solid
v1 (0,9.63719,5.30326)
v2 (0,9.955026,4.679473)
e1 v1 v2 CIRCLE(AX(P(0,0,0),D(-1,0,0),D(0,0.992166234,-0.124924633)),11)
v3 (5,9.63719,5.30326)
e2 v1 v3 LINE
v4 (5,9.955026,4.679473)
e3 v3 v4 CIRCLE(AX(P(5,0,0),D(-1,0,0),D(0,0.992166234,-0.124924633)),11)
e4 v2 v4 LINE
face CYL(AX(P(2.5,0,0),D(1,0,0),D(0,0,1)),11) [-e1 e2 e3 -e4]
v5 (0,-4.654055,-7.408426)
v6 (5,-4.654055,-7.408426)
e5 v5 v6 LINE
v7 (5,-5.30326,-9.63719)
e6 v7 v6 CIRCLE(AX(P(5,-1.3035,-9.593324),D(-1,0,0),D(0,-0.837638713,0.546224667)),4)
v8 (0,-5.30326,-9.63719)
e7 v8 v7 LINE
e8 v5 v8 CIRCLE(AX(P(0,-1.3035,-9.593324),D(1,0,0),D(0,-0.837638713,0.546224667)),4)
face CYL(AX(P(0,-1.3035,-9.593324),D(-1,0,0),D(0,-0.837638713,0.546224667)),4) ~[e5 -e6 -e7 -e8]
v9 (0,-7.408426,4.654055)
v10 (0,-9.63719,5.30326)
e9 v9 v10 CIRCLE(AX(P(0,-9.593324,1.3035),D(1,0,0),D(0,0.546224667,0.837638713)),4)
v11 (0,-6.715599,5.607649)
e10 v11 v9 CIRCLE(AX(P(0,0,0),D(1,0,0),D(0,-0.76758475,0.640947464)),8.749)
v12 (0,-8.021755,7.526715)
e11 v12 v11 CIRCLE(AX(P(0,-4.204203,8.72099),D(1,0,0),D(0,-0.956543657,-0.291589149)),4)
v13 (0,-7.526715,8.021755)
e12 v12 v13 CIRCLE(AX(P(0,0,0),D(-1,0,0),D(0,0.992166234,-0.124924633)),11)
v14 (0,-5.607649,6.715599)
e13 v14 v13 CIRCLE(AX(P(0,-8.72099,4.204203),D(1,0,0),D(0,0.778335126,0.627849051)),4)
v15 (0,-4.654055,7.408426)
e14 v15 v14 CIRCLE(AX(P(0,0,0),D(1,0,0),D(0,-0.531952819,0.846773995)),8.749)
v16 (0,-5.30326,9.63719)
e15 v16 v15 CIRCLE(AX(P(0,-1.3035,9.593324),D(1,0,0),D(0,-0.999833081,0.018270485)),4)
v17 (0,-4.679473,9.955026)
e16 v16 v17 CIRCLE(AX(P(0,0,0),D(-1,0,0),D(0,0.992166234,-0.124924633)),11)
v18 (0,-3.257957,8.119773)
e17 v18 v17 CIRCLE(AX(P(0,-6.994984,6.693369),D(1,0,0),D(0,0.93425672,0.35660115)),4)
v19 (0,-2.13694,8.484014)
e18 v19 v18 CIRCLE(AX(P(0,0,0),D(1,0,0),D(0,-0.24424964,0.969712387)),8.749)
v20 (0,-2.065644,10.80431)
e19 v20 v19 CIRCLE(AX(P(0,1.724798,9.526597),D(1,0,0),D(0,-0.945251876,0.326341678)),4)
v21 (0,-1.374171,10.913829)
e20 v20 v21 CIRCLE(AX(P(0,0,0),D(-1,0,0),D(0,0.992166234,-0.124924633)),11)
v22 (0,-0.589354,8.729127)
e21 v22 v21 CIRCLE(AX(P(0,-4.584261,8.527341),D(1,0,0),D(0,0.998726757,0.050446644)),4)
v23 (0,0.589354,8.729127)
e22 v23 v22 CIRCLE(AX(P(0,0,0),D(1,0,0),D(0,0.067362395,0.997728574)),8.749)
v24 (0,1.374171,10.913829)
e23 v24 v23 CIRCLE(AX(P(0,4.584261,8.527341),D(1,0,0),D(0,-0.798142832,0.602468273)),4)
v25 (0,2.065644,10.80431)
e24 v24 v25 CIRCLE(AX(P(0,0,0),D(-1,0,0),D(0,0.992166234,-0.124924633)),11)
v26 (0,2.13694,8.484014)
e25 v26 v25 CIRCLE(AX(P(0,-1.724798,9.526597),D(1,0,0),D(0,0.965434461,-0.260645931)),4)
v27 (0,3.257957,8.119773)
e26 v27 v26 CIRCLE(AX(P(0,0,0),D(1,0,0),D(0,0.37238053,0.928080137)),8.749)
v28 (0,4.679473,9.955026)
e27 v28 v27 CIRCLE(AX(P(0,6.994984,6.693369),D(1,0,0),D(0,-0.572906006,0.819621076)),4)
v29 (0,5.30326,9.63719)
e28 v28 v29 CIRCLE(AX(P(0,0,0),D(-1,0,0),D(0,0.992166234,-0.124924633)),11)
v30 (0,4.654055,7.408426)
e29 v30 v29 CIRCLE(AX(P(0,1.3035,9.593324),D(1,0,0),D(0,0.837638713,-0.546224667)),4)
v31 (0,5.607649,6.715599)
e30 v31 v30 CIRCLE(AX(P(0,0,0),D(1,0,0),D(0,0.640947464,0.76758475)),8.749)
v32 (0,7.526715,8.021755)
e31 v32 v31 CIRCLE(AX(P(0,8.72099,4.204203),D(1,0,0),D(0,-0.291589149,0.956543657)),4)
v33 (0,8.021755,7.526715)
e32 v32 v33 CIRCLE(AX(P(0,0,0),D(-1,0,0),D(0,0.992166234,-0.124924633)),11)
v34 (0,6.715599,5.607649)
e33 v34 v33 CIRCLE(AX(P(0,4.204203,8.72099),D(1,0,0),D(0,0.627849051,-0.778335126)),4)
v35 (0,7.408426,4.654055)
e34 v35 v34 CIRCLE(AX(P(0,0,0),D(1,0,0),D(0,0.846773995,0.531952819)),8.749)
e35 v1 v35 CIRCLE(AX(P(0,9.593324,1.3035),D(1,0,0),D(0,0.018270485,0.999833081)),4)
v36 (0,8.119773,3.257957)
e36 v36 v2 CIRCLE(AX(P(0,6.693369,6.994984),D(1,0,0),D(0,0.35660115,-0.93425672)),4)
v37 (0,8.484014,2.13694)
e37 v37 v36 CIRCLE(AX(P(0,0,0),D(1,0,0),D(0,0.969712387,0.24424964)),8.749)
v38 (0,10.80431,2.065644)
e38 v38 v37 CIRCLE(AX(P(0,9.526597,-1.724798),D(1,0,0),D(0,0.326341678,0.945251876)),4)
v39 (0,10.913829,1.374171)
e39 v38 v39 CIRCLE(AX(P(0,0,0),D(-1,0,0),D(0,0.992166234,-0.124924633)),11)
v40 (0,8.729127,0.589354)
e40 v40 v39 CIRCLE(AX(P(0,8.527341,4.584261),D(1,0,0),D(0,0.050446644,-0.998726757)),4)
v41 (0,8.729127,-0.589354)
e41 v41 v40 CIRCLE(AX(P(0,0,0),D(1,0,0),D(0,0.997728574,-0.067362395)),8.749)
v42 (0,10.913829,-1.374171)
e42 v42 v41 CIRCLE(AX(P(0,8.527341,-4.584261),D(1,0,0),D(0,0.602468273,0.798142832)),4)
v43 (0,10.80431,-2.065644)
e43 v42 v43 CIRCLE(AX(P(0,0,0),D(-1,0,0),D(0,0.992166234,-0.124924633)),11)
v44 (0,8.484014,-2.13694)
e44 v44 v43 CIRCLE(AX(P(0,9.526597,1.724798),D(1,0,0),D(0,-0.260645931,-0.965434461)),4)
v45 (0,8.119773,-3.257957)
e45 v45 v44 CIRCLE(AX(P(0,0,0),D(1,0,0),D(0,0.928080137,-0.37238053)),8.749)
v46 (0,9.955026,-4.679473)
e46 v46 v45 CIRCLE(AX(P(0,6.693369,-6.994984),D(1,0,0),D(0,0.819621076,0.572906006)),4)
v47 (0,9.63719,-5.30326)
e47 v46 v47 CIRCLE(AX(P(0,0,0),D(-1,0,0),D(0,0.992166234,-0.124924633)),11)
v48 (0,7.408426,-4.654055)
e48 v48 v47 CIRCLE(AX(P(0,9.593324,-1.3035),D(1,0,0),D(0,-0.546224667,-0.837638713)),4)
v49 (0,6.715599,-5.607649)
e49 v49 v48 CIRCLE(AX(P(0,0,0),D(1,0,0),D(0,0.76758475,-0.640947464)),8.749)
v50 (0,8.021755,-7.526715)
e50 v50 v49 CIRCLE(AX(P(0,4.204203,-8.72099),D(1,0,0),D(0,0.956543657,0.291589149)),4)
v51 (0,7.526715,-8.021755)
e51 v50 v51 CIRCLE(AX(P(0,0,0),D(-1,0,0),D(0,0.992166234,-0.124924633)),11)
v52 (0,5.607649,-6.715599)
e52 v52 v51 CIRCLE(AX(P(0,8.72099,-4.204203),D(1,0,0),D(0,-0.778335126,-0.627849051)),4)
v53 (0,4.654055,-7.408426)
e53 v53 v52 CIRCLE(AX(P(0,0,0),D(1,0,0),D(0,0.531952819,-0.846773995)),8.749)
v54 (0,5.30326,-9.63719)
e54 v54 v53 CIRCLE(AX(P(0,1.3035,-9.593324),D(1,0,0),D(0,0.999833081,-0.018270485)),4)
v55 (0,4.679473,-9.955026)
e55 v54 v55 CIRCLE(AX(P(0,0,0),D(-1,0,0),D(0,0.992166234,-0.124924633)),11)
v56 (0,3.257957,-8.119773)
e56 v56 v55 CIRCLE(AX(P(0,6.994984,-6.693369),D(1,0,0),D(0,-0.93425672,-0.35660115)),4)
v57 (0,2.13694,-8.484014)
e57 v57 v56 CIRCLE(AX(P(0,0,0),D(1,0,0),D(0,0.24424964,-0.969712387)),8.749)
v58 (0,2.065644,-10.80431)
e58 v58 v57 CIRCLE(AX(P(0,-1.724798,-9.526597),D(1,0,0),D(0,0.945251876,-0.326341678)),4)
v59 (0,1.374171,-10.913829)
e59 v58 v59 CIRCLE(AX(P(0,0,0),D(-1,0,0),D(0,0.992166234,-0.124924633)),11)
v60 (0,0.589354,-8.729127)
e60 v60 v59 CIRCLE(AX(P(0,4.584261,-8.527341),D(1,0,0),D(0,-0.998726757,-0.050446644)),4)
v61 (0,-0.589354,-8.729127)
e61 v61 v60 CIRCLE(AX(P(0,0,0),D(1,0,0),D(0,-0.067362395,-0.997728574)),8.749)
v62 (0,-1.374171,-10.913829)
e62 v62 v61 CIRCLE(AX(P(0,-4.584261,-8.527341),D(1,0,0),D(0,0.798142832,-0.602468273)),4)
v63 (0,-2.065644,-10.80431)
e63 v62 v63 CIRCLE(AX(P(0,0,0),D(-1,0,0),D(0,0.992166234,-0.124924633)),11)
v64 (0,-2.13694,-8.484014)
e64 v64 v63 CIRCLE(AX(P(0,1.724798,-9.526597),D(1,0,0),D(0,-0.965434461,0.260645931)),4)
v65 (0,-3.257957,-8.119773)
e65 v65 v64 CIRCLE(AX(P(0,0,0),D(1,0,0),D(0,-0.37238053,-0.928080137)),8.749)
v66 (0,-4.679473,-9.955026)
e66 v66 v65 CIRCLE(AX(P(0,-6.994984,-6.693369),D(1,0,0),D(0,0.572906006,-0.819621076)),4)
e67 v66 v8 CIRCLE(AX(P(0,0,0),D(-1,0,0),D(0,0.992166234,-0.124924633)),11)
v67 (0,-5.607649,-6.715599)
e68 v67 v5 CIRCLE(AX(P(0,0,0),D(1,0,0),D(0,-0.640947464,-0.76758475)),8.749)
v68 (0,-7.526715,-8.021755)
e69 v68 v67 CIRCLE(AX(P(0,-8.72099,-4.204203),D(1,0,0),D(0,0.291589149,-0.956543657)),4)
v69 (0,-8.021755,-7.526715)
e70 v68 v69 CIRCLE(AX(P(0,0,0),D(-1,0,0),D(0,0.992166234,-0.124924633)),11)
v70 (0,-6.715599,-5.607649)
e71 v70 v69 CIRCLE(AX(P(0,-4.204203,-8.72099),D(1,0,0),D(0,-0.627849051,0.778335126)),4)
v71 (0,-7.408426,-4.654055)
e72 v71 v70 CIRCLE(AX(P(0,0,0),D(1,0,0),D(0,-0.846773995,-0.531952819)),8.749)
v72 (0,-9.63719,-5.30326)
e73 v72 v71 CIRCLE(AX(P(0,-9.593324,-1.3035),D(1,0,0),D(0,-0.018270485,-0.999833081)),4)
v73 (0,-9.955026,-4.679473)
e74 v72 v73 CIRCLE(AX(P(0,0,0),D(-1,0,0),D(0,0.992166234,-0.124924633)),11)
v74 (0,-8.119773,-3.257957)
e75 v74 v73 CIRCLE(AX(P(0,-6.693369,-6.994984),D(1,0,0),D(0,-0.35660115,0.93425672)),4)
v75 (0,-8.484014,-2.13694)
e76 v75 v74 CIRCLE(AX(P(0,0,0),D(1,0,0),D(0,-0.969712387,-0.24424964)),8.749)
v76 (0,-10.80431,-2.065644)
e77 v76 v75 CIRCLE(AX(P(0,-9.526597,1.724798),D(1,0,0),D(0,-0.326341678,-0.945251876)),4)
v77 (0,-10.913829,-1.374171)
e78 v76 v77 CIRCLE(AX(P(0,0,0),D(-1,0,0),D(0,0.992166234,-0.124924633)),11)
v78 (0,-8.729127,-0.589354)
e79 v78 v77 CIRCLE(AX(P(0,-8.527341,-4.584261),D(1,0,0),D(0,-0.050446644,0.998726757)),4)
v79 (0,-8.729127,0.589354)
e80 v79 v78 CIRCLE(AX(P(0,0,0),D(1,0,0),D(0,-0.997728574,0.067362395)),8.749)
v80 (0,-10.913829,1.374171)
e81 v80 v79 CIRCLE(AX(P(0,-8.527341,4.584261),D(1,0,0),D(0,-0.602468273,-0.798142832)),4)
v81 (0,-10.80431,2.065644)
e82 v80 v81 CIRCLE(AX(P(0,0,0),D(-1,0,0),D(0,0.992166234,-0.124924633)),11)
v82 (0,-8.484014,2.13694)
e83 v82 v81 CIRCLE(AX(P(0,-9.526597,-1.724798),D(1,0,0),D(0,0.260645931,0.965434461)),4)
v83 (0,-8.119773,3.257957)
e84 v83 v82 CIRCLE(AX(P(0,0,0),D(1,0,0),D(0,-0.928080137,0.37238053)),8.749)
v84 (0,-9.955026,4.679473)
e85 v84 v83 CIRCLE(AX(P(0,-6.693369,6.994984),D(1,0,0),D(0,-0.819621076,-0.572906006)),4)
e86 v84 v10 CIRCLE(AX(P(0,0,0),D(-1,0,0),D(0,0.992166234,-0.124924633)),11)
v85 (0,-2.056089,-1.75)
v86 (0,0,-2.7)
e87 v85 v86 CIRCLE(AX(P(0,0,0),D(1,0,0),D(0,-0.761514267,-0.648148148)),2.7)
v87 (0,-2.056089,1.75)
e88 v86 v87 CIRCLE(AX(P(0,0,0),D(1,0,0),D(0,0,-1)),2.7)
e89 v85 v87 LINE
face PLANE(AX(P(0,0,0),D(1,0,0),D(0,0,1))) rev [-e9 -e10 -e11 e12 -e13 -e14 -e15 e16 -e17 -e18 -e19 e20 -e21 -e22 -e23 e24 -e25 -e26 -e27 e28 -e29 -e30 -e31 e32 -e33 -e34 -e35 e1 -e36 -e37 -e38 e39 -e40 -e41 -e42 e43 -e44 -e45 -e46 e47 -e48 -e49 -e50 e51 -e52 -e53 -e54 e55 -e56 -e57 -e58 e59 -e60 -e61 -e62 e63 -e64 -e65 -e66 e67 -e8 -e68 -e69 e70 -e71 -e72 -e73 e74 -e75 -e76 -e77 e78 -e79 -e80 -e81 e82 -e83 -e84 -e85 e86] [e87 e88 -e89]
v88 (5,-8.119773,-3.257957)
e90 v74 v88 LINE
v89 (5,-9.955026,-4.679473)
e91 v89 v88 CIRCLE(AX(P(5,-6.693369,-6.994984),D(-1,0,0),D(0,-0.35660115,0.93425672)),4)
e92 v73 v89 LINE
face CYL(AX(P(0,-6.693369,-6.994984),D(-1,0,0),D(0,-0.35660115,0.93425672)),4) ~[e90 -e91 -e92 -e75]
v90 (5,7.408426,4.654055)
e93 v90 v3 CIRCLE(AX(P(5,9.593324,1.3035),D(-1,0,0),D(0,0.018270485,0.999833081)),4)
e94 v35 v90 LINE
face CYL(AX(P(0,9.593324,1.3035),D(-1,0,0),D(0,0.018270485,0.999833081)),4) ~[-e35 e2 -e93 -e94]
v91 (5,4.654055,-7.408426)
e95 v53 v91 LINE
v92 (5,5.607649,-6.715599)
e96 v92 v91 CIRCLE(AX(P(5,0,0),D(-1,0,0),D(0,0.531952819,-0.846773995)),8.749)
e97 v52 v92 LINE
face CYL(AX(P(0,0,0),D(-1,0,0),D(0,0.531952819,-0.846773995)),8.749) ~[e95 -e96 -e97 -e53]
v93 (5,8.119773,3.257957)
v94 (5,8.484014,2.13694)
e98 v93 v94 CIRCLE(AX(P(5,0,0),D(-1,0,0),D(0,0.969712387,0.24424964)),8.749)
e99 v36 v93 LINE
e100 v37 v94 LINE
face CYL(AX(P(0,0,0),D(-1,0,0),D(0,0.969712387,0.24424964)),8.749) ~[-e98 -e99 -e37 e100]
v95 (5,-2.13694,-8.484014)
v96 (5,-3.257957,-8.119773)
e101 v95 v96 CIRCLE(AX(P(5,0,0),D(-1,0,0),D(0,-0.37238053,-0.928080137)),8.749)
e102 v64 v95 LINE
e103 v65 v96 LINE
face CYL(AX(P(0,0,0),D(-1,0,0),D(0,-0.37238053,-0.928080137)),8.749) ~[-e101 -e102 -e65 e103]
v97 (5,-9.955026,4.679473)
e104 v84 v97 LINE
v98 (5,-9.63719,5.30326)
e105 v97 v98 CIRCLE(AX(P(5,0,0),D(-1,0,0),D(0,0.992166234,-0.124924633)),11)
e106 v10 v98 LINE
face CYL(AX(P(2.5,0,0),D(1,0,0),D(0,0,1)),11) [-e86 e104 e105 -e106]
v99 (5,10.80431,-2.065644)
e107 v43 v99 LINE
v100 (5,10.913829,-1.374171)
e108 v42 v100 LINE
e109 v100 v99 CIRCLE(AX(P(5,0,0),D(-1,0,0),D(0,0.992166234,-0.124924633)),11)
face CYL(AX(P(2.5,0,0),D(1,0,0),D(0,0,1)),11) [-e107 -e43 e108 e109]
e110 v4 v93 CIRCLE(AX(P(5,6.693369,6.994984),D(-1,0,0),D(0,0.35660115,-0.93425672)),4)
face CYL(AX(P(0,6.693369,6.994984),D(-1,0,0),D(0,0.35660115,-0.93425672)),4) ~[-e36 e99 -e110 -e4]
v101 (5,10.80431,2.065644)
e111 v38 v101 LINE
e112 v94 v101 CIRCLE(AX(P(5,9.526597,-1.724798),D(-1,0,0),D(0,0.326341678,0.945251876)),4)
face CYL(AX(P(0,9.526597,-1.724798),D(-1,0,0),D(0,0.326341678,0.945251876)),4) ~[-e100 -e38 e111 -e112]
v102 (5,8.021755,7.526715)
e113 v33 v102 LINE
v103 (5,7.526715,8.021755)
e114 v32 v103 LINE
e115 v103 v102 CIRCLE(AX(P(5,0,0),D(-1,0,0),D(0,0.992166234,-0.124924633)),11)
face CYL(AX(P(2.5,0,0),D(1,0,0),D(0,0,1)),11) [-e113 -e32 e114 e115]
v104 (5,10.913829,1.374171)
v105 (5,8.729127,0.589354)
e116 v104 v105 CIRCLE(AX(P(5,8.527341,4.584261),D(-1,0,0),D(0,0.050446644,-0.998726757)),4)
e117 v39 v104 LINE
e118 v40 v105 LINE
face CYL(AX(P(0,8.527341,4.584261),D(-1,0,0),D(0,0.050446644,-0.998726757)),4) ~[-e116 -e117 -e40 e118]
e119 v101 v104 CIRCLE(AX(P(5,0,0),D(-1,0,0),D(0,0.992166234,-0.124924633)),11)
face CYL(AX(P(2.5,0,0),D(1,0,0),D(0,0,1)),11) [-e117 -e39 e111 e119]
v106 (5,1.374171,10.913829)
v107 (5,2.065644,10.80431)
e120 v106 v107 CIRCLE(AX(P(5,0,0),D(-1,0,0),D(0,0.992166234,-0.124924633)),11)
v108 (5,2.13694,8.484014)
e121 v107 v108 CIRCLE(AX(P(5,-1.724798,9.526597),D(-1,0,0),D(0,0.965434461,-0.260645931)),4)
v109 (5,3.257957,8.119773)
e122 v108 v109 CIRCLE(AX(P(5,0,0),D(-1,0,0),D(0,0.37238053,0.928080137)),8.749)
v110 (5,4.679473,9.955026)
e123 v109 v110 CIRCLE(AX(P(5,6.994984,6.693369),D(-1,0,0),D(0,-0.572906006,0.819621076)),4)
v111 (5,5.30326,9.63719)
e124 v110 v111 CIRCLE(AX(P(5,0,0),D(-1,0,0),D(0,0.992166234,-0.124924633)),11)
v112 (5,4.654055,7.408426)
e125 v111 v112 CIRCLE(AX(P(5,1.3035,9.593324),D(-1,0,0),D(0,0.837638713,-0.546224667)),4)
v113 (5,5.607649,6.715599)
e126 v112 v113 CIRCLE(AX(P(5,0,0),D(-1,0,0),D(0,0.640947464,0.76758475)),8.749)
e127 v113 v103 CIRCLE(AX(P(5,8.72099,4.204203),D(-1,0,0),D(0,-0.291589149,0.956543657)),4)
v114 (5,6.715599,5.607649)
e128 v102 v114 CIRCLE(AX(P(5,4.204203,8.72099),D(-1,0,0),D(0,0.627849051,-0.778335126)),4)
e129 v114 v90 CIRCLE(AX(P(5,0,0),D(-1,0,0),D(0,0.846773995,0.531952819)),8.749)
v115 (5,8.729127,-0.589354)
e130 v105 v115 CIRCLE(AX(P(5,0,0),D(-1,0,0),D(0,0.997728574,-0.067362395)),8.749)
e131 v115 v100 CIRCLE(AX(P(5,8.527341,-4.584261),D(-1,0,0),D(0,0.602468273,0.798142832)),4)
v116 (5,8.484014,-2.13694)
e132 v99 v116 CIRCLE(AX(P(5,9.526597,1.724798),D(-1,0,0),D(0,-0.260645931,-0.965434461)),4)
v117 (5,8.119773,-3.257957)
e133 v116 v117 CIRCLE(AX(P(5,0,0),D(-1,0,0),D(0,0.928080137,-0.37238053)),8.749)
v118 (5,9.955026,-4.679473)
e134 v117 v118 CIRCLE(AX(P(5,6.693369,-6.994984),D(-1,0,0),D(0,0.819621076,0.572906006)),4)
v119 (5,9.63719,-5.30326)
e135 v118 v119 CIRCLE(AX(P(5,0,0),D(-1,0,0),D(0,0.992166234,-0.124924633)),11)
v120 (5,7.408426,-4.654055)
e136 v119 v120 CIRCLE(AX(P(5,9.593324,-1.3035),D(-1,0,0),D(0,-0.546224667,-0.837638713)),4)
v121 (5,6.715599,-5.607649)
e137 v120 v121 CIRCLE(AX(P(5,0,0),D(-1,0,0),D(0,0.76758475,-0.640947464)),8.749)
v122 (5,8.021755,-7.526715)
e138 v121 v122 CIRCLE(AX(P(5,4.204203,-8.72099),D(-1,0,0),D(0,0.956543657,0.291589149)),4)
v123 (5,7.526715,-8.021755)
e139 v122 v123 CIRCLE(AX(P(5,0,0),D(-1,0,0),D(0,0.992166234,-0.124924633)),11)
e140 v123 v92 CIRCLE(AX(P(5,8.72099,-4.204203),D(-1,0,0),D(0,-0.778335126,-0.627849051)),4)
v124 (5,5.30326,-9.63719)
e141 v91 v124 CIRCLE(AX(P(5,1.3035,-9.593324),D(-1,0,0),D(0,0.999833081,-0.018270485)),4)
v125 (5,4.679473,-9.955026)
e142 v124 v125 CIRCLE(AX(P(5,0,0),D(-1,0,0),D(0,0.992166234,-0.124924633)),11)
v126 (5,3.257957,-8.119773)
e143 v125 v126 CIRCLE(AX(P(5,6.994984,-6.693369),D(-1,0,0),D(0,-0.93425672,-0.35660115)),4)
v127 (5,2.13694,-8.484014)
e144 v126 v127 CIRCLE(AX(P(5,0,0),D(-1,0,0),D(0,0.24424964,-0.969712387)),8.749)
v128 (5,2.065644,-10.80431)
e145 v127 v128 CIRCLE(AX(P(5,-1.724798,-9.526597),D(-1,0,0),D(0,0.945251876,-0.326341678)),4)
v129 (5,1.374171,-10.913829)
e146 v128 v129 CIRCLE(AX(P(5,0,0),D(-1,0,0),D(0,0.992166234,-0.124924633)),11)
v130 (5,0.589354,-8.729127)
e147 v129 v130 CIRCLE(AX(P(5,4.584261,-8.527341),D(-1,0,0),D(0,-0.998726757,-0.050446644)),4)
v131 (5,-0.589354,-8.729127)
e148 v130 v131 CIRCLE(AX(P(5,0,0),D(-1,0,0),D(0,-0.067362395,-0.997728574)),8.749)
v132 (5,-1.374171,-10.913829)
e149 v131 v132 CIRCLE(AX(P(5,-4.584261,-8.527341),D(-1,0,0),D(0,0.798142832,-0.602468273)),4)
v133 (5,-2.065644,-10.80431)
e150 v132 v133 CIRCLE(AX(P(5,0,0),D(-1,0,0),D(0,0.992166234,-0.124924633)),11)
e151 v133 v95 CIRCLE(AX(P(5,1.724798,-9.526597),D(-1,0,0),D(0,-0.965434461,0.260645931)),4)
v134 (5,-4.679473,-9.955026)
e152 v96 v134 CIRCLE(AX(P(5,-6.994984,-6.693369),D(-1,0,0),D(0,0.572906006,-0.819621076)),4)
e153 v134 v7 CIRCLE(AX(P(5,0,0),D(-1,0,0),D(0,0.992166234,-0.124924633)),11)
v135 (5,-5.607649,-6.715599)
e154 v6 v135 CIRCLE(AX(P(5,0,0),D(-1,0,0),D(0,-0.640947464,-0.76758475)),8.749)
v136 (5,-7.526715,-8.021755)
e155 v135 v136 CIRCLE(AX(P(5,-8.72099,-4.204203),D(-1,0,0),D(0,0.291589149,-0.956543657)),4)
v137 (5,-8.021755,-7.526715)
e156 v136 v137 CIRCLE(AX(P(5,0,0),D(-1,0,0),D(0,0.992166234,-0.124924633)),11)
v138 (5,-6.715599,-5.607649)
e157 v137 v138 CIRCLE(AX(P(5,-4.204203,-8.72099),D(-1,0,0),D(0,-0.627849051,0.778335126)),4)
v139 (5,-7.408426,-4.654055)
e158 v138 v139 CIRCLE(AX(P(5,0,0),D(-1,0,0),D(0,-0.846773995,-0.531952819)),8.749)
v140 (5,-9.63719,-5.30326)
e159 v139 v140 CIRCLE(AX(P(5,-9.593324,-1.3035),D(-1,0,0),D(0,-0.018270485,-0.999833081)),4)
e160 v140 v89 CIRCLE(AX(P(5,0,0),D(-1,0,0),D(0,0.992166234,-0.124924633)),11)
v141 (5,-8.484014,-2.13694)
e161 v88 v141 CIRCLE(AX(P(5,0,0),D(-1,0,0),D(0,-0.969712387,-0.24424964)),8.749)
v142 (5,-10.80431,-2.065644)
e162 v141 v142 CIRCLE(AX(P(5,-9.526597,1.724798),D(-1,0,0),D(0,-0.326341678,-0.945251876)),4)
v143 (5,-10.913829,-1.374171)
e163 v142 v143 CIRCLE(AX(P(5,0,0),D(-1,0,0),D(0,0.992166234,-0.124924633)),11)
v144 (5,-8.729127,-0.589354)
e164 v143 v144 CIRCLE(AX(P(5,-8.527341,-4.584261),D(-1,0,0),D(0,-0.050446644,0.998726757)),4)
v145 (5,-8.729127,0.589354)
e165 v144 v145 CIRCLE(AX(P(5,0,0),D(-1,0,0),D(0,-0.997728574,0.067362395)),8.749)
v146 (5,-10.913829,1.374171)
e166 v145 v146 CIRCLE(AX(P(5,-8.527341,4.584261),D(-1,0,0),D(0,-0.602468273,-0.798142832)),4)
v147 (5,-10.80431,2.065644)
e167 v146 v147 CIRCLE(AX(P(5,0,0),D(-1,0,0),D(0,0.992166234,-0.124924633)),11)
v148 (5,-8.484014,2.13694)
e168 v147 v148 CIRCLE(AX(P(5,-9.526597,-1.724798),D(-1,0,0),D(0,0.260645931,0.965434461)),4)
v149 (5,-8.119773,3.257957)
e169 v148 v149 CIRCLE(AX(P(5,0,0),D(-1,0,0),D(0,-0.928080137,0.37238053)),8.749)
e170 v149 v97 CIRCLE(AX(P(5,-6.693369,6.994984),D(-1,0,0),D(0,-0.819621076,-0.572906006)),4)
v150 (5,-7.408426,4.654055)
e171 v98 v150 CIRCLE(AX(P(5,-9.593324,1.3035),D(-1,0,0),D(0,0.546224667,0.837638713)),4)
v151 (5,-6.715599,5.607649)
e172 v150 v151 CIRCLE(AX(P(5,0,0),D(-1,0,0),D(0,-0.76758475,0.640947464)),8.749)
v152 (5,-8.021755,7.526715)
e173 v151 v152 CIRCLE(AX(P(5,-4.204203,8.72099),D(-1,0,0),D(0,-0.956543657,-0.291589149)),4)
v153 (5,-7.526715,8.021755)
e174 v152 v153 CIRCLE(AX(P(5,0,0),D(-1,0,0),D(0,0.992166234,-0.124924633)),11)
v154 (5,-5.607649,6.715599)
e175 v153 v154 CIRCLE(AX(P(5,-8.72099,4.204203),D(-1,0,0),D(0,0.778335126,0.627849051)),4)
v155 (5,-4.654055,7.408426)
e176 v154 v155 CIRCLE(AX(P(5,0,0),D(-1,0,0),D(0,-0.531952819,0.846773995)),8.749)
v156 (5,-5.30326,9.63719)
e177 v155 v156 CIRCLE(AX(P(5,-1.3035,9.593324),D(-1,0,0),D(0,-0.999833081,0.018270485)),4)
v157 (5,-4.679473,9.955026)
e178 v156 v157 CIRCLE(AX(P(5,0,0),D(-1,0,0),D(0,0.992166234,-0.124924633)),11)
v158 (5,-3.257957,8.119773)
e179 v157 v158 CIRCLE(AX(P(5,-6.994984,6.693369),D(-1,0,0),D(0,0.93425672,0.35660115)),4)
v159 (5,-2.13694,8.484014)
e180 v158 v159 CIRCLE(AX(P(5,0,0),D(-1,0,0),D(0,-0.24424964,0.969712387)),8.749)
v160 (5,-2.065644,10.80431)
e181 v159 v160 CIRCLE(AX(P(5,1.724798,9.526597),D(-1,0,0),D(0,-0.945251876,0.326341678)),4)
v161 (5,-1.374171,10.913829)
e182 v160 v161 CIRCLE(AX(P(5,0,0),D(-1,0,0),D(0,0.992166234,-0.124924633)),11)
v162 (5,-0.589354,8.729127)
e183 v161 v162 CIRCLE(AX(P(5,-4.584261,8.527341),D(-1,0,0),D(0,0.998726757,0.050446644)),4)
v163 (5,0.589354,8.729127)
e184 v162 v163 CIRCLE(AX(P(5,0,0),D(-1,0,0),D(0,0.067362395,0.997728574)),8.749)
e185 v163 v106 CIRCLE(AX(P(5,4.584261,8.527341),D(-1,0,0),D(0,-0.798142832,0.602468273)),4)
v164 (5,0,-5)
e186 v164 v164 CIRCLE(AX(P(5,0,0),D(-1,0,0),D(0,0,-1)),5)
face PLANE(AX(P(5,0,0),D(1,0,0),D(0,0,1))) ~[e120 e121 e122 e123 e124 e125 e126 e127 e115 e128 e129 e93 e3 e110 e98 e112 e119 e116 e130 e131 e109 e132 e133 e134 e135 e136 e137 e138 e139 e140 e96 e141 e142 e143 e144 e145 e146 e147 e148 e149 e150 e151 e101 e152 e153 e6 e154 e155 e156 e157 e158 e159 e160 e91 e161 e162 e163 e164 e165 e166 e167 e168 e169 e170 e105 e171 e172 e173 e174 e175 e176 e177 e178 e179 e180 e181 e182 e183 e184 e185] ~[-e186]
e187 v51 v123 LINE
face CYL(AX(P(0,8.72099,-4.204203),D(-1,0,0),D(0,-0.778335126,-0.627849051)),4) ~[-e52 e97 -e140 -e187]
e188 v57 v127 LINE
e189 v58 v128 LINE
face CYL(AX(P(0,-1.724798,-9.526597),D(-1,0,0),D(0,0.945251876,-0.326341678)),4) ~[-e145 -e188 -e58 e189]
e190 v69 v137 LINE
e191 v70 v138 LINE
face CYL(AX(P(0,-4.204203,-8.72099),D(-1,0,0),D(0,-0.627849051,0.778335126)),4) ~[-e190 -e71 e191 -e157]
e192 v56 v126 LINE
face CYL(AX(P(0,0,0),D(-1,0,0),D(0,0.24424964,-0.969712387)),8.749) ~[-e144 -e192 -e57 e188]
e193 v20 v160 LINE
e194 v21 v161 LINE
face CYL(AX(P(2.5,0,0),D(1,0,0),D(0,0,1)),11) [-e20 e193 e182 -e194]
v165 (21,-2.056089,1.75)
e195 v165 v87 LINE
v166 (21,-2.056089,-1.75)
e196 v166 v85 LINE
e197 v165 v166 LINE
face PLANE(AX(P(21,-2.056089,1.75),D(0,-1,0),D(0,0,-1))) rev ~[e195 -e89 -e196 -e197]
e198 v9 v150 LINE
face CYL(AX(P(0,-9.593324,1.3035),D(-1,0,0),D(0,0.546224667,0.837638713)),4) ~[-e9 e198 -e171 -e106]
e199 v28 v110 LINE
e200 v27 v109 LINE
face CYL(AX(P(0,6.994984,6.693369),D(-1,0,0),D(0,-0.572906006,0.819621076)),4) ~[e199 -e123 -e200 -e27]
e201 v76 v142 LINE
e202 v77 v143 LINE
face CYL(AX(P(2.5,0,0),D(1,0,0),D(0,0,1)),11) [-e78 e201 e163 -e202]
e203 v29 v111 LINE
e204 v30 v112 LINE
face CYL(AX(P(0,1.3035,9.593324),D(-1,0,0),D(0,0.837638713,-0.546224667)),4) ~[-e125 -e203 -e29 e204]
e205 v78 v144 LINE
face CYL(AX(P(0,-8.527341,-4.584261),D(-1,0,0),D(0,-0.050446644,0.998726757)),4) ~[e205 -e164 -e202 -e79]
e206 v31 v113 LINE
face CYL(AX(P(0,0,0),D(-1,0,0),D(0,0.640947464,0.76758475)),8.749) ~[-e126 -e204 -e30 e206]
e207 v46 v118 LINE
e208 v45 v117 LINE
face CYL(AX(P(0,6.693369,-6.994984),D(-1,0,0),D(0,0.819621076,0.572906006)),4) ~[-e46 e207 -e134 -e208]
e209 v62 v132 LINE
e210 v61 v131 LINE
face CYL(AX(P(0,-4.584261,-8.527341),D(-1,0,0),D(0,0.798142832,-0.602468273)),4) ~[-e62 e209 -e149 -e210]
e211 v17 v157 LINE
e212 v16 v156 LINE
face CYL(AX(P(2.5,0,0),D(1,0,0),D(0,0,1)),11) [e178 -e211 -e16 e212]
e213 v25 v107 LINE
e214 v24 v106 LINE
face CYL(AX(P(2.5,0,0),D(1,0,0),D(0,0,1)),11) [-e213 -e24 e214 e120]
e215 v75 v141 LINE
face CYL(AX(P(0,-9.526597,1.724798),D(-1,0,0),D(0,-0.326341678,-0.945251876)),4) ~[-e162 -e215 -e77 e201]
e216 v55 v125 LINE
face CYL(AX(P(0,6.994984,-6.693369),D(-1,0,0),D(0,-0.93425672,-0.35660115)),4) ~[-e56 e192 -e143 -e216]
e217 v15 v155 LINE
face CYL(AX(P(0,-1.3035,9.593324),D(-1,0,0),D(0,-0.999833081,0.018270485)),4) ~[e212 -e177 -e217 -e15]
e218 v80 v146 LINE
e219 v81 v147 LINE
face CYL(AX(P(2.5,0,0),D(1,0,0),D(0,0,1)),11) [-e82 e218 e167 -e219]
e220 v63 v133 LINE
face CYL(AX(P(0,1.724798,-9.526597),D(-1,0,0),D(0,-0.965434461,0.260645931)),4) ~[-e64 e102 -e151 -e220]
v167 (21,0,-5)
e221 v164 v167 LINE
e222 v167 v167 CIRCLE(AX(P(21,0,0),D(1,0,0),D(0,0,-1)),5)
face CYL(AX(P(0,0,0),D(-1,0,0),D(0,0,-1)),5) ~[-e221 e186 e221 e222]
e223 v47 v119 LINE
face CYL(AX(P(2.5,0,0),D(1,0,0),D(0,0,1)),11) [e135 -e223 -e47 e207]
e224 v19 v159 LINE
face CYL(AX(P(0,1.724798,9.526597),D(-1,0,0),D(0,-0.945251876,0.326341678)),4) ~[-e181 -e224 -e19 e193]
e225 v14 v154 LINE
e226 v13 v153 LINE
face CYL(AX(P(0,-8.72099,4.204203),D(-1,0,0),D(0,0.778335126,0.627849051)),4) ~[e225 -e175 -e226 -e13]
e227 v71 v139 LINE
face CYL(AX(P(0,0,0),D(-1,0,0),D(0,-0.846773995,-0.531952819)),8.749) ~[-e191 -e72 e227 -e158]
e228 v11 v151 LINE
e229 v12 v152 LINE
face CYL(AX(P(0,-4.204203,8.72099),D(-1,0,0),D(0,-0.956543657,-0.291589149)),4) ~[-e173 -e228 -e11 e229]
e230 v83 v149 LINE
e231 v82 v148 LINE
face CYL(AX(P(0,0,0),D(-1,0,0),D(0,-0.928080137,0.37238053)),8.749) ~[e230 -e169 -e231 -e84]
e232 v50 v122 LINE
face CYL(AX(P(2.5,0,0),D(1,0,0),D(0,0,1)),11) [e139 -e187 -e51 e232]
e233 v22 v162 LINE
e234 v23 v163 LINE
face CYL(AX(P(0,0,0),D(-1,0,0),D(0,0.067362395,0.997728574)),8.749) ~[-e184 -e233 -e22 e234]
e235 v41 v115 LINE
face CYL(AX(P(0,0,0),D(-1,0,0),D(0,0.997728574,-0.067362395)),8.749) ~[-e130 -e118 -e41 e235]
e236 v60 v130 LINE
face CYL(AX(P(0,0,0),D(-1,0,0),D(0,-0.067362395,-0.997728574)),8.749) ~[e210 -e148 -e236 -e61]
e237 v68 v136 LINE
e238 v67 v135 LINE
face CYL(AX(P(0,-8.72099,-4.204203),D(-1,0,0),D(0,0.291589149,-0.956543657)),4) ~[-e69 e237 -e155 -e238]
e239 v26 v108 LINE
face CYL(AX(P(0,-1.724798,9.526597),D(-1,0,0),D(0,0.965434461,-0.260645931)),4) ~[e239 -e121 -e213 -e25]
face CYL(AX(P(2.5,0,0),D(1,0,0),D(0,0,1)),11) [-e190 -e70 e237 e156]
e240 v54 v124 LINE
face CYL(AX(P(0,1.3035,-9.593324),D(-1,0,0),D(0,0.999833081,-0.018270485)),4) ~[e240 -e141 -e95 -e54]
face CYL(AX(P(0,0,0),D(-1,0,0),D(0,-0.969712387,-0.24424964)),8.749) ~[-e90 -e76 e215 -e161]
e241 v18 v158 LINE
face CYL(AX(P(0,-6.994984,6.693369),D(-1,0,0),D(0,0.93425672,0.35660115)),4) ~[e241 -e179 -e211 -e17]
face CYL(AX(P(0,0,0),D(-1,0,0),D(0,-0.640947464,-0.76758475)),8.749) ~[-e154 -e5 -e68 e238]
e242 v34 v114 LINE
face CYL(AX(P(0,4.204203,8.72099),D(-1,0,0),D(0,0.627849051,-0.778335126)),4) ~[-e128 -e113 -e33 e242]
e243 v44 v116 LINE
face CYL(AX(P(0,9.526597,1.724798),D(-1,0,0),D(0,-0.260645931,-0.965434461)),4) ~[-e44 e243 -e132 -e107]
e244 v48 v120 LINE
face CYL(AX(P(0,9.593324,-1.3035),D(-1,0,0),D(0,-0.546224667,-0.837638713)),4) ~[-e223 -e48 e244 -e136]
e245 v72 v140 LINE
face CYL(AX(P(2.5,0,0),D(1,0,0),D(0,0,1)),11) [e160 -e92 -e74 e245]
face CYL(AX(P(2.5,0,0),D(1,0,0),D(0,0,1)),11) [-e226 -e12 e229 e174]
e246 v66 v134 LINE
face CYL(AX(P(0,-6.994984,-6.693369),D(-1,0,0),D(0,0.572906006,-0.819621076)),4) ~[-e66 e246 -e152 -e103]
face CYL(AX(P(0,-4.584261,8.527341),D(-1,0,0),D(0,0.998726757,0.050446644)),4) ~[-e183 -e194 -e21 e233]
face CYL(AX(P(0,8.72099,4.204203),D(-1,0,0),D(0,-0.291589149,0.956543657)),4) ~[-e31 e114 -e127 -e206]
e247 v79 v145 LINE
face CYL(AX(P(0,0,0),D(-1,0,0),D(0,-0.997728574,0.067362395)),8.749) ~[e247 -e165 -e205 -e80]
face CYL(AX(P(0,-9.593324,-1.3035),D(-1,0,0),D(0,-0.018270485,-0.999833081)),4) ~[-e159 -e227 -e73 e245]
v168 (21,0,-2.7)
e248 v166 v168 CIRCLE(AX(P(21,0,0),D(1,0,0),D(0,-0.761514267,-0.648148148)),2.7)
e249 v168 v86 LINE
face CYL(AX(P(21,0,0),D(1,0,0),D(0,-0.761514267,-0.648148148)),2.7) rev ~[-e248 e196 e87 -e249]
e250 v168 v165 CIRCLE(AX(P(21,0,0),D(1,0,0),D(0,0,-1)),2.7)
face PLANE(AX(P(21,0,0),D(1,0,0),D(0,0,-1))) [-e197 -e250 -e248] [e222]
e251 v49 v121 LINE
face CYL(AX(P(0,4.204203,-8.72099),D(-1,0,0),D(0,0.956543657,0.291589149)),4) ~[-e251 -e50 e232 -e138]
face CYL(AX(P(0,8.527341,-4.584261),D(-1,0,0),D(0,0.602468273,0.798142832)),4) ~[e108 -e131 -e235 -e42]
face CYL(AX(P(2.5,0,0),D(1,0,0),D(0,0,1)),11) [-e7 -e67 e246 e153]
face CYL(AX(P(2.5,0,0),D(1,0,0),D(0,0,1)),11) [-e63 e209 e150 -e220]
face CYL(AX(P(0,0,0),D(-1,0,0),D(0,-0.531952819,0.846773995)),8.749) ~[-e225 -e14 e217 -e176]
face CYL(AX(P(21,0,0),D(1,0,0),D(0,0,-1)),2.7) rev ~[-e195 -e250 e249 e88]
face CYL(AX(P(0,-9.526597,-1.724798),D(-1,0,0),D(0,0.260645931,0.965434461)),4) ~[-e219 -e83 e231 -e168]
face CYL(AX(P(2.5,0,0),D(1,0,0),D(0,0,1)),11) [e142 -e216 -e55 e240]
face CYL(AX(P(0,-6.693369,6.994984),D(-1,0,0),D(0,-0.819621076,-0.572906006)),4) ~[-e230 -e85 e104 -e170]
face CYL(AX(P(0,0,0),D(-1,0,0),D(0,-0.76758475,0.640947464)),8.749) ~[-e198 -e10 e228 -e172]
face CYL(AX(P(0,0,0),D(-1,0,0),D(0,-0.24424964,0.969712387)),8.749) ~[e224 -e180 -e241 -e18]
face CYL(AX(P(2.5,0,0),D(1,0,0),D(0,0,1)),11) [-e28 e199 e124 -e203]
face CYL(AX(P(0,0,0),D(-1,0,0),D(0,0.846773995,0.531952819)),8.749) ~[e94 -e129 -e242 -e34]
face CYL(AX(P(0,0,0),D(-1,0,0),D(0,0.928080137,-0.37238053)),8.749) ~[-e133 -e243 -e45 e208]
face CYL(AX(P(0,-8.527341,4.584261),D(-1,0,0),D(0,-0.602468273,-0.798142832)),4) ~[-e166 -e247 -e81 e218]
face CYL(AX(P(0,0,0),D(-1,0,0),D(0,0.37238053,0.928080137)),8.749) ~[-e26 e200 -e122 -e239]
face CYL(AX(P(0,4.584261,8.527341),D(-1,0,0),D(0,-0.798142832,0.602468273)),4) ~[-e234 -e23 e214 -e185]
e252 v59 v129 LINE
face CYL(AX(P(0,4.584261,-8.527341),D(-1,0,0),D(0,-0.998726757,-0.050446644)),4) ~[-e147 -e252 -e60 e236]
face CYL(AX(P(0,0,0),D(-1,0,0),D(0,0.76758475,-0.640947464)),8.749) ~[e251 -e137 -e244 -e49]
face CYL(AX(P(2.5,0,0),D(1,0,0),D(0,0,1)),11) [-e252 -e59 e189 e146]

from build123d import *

# Parameters (mm, degrees)
BASPROSKE_W              = 5
BASPROSKE_H              = 11
TOOTHCUT_DEPTH           = 17.340134638
TEETHCUTS_COUNT          = 20
TEETHCUTS_ANGLE          = 342
BORSKE_R                 = 2.5
BORE_DEPTH               = 50.0000508
BOSS_EXTRUDE2_DEPTH      = 16
BOSS_EXTRUDE2_DEPTH_BACK = 5
SKETCH1_R                = 5
CUT_EXTRUDE1_DEPTH       = 27.061912983


with BuildPart() as part:
    # BasProSke → Base-Revolve (revolve)
    with BuildSketch(Plane(origin=(0, 0, 0), x_dir=(1, 0, 0), z_dir=(0, 1, 0)), mode=Mode.PRIVATE) as base_revolve_sk:
        with Locations((2.5, 5.5)):
            Rectangle(BASPROSKE_W, BASPROSKE_H)
    revolve(base_revolve_sk.sketch.rotate(Axis((-10, 0, 0), (1, 0, 0)), 180), axis=Axis((-10, 0, 0), (1, 0, 0)))

    # TooCutSke → ToothCut (cut, through all)
    with BuildSketch(Plane(origin=(0, 0, 0), x_dir=(0, 0, -1), z_dir=(1, 0, 0))):
        with BuildLine():
            ThreePointArc((0.589353609, 8.729127295), (0, 8.749), (-0.589353609, 8.729127295))
            ThreePointArc((-0.589353609, 8.729127295), (-0.82475631, 9.893403384), (-1.391689312, 10.937213814))
            ThreePointArc((-1.391689312, 10.937213814), (0, 11.0254), (1.391689312, 10.937213814))
            ThreePointArc((1.391689312, 10.937213814), (0.82475631, 9.893403384), (0.589353609, 8.729127295))
        make_face()
    toothcut = extrude(amount=TOOTHCUT_DEPTH, mode=Mode.SUBTRACT)

    # TeethCuts: ToothCut ×20 about axis
    teethcuts_axis = Axis((-10, 0, 0), (1, 0, 0))
    for i in range(1, TEETHCUTS_COUNT):
        add(toothcut.rotate(teethcuts_axis, i * TEETHCUTS_ANGLE / (TEETHCUTS_COUNT - 1)), mode=Mode.SUBTRACT)

    # BorSke → Bore (cut, symmetric)
    with BuildSketch(Plane(origin=(0, 0, 0), x_dir=(0, 0, -1), z_dir=(1, 0, 0))):
        with Locations(Location((0, 0, 0), (0, 0, 180))):
            Circle(BORSKE_R)
    extrude(amount=BORE_DEPTH, both=True, mode=Mode.SUBTRACT)

    # Sketch1 → Boss-Extrude2 (add, two sides: drawn at the far end of the back side and taken through both)
    with BuildSketch(Plane(origin=(5, 0, 0), x_dir=(0, 0, -1), z_dir=(1, 0, 0)).offset(-BOSS_EXTRUDE2_DEPTH_BACK)):
        Circle(SKETCH1_R)
    extrude(amount=BOSS_EXTRUDE2_DEPTH + BOSS_EXTRUDE2_DEPTH_BACK)

    # Sketch2 → Cut-Extrude1 (cut, through all)
    with BuildSketch(Plane(origin=(21, 0, 0), x_dir=(0, 0, -1), z_dir=(1, 0, 0))):
        with BuildLine():
            ThreePointArc((2.7, 0), (-1.132475165, 2.451020196), (-1.75, -2.056088519))
            Line((-1.75, -2.056088519), (1.75, -2.056088519))
            ThreePointArc((1.75, -2.056088519), (2.451020196, -1.132475165), (2.7, 0))
        make_face()
    extrude(amount=-CUT_EXTRUDE1_DEPTH, mode=Mode.SUBTRACT)


solid = part.part
